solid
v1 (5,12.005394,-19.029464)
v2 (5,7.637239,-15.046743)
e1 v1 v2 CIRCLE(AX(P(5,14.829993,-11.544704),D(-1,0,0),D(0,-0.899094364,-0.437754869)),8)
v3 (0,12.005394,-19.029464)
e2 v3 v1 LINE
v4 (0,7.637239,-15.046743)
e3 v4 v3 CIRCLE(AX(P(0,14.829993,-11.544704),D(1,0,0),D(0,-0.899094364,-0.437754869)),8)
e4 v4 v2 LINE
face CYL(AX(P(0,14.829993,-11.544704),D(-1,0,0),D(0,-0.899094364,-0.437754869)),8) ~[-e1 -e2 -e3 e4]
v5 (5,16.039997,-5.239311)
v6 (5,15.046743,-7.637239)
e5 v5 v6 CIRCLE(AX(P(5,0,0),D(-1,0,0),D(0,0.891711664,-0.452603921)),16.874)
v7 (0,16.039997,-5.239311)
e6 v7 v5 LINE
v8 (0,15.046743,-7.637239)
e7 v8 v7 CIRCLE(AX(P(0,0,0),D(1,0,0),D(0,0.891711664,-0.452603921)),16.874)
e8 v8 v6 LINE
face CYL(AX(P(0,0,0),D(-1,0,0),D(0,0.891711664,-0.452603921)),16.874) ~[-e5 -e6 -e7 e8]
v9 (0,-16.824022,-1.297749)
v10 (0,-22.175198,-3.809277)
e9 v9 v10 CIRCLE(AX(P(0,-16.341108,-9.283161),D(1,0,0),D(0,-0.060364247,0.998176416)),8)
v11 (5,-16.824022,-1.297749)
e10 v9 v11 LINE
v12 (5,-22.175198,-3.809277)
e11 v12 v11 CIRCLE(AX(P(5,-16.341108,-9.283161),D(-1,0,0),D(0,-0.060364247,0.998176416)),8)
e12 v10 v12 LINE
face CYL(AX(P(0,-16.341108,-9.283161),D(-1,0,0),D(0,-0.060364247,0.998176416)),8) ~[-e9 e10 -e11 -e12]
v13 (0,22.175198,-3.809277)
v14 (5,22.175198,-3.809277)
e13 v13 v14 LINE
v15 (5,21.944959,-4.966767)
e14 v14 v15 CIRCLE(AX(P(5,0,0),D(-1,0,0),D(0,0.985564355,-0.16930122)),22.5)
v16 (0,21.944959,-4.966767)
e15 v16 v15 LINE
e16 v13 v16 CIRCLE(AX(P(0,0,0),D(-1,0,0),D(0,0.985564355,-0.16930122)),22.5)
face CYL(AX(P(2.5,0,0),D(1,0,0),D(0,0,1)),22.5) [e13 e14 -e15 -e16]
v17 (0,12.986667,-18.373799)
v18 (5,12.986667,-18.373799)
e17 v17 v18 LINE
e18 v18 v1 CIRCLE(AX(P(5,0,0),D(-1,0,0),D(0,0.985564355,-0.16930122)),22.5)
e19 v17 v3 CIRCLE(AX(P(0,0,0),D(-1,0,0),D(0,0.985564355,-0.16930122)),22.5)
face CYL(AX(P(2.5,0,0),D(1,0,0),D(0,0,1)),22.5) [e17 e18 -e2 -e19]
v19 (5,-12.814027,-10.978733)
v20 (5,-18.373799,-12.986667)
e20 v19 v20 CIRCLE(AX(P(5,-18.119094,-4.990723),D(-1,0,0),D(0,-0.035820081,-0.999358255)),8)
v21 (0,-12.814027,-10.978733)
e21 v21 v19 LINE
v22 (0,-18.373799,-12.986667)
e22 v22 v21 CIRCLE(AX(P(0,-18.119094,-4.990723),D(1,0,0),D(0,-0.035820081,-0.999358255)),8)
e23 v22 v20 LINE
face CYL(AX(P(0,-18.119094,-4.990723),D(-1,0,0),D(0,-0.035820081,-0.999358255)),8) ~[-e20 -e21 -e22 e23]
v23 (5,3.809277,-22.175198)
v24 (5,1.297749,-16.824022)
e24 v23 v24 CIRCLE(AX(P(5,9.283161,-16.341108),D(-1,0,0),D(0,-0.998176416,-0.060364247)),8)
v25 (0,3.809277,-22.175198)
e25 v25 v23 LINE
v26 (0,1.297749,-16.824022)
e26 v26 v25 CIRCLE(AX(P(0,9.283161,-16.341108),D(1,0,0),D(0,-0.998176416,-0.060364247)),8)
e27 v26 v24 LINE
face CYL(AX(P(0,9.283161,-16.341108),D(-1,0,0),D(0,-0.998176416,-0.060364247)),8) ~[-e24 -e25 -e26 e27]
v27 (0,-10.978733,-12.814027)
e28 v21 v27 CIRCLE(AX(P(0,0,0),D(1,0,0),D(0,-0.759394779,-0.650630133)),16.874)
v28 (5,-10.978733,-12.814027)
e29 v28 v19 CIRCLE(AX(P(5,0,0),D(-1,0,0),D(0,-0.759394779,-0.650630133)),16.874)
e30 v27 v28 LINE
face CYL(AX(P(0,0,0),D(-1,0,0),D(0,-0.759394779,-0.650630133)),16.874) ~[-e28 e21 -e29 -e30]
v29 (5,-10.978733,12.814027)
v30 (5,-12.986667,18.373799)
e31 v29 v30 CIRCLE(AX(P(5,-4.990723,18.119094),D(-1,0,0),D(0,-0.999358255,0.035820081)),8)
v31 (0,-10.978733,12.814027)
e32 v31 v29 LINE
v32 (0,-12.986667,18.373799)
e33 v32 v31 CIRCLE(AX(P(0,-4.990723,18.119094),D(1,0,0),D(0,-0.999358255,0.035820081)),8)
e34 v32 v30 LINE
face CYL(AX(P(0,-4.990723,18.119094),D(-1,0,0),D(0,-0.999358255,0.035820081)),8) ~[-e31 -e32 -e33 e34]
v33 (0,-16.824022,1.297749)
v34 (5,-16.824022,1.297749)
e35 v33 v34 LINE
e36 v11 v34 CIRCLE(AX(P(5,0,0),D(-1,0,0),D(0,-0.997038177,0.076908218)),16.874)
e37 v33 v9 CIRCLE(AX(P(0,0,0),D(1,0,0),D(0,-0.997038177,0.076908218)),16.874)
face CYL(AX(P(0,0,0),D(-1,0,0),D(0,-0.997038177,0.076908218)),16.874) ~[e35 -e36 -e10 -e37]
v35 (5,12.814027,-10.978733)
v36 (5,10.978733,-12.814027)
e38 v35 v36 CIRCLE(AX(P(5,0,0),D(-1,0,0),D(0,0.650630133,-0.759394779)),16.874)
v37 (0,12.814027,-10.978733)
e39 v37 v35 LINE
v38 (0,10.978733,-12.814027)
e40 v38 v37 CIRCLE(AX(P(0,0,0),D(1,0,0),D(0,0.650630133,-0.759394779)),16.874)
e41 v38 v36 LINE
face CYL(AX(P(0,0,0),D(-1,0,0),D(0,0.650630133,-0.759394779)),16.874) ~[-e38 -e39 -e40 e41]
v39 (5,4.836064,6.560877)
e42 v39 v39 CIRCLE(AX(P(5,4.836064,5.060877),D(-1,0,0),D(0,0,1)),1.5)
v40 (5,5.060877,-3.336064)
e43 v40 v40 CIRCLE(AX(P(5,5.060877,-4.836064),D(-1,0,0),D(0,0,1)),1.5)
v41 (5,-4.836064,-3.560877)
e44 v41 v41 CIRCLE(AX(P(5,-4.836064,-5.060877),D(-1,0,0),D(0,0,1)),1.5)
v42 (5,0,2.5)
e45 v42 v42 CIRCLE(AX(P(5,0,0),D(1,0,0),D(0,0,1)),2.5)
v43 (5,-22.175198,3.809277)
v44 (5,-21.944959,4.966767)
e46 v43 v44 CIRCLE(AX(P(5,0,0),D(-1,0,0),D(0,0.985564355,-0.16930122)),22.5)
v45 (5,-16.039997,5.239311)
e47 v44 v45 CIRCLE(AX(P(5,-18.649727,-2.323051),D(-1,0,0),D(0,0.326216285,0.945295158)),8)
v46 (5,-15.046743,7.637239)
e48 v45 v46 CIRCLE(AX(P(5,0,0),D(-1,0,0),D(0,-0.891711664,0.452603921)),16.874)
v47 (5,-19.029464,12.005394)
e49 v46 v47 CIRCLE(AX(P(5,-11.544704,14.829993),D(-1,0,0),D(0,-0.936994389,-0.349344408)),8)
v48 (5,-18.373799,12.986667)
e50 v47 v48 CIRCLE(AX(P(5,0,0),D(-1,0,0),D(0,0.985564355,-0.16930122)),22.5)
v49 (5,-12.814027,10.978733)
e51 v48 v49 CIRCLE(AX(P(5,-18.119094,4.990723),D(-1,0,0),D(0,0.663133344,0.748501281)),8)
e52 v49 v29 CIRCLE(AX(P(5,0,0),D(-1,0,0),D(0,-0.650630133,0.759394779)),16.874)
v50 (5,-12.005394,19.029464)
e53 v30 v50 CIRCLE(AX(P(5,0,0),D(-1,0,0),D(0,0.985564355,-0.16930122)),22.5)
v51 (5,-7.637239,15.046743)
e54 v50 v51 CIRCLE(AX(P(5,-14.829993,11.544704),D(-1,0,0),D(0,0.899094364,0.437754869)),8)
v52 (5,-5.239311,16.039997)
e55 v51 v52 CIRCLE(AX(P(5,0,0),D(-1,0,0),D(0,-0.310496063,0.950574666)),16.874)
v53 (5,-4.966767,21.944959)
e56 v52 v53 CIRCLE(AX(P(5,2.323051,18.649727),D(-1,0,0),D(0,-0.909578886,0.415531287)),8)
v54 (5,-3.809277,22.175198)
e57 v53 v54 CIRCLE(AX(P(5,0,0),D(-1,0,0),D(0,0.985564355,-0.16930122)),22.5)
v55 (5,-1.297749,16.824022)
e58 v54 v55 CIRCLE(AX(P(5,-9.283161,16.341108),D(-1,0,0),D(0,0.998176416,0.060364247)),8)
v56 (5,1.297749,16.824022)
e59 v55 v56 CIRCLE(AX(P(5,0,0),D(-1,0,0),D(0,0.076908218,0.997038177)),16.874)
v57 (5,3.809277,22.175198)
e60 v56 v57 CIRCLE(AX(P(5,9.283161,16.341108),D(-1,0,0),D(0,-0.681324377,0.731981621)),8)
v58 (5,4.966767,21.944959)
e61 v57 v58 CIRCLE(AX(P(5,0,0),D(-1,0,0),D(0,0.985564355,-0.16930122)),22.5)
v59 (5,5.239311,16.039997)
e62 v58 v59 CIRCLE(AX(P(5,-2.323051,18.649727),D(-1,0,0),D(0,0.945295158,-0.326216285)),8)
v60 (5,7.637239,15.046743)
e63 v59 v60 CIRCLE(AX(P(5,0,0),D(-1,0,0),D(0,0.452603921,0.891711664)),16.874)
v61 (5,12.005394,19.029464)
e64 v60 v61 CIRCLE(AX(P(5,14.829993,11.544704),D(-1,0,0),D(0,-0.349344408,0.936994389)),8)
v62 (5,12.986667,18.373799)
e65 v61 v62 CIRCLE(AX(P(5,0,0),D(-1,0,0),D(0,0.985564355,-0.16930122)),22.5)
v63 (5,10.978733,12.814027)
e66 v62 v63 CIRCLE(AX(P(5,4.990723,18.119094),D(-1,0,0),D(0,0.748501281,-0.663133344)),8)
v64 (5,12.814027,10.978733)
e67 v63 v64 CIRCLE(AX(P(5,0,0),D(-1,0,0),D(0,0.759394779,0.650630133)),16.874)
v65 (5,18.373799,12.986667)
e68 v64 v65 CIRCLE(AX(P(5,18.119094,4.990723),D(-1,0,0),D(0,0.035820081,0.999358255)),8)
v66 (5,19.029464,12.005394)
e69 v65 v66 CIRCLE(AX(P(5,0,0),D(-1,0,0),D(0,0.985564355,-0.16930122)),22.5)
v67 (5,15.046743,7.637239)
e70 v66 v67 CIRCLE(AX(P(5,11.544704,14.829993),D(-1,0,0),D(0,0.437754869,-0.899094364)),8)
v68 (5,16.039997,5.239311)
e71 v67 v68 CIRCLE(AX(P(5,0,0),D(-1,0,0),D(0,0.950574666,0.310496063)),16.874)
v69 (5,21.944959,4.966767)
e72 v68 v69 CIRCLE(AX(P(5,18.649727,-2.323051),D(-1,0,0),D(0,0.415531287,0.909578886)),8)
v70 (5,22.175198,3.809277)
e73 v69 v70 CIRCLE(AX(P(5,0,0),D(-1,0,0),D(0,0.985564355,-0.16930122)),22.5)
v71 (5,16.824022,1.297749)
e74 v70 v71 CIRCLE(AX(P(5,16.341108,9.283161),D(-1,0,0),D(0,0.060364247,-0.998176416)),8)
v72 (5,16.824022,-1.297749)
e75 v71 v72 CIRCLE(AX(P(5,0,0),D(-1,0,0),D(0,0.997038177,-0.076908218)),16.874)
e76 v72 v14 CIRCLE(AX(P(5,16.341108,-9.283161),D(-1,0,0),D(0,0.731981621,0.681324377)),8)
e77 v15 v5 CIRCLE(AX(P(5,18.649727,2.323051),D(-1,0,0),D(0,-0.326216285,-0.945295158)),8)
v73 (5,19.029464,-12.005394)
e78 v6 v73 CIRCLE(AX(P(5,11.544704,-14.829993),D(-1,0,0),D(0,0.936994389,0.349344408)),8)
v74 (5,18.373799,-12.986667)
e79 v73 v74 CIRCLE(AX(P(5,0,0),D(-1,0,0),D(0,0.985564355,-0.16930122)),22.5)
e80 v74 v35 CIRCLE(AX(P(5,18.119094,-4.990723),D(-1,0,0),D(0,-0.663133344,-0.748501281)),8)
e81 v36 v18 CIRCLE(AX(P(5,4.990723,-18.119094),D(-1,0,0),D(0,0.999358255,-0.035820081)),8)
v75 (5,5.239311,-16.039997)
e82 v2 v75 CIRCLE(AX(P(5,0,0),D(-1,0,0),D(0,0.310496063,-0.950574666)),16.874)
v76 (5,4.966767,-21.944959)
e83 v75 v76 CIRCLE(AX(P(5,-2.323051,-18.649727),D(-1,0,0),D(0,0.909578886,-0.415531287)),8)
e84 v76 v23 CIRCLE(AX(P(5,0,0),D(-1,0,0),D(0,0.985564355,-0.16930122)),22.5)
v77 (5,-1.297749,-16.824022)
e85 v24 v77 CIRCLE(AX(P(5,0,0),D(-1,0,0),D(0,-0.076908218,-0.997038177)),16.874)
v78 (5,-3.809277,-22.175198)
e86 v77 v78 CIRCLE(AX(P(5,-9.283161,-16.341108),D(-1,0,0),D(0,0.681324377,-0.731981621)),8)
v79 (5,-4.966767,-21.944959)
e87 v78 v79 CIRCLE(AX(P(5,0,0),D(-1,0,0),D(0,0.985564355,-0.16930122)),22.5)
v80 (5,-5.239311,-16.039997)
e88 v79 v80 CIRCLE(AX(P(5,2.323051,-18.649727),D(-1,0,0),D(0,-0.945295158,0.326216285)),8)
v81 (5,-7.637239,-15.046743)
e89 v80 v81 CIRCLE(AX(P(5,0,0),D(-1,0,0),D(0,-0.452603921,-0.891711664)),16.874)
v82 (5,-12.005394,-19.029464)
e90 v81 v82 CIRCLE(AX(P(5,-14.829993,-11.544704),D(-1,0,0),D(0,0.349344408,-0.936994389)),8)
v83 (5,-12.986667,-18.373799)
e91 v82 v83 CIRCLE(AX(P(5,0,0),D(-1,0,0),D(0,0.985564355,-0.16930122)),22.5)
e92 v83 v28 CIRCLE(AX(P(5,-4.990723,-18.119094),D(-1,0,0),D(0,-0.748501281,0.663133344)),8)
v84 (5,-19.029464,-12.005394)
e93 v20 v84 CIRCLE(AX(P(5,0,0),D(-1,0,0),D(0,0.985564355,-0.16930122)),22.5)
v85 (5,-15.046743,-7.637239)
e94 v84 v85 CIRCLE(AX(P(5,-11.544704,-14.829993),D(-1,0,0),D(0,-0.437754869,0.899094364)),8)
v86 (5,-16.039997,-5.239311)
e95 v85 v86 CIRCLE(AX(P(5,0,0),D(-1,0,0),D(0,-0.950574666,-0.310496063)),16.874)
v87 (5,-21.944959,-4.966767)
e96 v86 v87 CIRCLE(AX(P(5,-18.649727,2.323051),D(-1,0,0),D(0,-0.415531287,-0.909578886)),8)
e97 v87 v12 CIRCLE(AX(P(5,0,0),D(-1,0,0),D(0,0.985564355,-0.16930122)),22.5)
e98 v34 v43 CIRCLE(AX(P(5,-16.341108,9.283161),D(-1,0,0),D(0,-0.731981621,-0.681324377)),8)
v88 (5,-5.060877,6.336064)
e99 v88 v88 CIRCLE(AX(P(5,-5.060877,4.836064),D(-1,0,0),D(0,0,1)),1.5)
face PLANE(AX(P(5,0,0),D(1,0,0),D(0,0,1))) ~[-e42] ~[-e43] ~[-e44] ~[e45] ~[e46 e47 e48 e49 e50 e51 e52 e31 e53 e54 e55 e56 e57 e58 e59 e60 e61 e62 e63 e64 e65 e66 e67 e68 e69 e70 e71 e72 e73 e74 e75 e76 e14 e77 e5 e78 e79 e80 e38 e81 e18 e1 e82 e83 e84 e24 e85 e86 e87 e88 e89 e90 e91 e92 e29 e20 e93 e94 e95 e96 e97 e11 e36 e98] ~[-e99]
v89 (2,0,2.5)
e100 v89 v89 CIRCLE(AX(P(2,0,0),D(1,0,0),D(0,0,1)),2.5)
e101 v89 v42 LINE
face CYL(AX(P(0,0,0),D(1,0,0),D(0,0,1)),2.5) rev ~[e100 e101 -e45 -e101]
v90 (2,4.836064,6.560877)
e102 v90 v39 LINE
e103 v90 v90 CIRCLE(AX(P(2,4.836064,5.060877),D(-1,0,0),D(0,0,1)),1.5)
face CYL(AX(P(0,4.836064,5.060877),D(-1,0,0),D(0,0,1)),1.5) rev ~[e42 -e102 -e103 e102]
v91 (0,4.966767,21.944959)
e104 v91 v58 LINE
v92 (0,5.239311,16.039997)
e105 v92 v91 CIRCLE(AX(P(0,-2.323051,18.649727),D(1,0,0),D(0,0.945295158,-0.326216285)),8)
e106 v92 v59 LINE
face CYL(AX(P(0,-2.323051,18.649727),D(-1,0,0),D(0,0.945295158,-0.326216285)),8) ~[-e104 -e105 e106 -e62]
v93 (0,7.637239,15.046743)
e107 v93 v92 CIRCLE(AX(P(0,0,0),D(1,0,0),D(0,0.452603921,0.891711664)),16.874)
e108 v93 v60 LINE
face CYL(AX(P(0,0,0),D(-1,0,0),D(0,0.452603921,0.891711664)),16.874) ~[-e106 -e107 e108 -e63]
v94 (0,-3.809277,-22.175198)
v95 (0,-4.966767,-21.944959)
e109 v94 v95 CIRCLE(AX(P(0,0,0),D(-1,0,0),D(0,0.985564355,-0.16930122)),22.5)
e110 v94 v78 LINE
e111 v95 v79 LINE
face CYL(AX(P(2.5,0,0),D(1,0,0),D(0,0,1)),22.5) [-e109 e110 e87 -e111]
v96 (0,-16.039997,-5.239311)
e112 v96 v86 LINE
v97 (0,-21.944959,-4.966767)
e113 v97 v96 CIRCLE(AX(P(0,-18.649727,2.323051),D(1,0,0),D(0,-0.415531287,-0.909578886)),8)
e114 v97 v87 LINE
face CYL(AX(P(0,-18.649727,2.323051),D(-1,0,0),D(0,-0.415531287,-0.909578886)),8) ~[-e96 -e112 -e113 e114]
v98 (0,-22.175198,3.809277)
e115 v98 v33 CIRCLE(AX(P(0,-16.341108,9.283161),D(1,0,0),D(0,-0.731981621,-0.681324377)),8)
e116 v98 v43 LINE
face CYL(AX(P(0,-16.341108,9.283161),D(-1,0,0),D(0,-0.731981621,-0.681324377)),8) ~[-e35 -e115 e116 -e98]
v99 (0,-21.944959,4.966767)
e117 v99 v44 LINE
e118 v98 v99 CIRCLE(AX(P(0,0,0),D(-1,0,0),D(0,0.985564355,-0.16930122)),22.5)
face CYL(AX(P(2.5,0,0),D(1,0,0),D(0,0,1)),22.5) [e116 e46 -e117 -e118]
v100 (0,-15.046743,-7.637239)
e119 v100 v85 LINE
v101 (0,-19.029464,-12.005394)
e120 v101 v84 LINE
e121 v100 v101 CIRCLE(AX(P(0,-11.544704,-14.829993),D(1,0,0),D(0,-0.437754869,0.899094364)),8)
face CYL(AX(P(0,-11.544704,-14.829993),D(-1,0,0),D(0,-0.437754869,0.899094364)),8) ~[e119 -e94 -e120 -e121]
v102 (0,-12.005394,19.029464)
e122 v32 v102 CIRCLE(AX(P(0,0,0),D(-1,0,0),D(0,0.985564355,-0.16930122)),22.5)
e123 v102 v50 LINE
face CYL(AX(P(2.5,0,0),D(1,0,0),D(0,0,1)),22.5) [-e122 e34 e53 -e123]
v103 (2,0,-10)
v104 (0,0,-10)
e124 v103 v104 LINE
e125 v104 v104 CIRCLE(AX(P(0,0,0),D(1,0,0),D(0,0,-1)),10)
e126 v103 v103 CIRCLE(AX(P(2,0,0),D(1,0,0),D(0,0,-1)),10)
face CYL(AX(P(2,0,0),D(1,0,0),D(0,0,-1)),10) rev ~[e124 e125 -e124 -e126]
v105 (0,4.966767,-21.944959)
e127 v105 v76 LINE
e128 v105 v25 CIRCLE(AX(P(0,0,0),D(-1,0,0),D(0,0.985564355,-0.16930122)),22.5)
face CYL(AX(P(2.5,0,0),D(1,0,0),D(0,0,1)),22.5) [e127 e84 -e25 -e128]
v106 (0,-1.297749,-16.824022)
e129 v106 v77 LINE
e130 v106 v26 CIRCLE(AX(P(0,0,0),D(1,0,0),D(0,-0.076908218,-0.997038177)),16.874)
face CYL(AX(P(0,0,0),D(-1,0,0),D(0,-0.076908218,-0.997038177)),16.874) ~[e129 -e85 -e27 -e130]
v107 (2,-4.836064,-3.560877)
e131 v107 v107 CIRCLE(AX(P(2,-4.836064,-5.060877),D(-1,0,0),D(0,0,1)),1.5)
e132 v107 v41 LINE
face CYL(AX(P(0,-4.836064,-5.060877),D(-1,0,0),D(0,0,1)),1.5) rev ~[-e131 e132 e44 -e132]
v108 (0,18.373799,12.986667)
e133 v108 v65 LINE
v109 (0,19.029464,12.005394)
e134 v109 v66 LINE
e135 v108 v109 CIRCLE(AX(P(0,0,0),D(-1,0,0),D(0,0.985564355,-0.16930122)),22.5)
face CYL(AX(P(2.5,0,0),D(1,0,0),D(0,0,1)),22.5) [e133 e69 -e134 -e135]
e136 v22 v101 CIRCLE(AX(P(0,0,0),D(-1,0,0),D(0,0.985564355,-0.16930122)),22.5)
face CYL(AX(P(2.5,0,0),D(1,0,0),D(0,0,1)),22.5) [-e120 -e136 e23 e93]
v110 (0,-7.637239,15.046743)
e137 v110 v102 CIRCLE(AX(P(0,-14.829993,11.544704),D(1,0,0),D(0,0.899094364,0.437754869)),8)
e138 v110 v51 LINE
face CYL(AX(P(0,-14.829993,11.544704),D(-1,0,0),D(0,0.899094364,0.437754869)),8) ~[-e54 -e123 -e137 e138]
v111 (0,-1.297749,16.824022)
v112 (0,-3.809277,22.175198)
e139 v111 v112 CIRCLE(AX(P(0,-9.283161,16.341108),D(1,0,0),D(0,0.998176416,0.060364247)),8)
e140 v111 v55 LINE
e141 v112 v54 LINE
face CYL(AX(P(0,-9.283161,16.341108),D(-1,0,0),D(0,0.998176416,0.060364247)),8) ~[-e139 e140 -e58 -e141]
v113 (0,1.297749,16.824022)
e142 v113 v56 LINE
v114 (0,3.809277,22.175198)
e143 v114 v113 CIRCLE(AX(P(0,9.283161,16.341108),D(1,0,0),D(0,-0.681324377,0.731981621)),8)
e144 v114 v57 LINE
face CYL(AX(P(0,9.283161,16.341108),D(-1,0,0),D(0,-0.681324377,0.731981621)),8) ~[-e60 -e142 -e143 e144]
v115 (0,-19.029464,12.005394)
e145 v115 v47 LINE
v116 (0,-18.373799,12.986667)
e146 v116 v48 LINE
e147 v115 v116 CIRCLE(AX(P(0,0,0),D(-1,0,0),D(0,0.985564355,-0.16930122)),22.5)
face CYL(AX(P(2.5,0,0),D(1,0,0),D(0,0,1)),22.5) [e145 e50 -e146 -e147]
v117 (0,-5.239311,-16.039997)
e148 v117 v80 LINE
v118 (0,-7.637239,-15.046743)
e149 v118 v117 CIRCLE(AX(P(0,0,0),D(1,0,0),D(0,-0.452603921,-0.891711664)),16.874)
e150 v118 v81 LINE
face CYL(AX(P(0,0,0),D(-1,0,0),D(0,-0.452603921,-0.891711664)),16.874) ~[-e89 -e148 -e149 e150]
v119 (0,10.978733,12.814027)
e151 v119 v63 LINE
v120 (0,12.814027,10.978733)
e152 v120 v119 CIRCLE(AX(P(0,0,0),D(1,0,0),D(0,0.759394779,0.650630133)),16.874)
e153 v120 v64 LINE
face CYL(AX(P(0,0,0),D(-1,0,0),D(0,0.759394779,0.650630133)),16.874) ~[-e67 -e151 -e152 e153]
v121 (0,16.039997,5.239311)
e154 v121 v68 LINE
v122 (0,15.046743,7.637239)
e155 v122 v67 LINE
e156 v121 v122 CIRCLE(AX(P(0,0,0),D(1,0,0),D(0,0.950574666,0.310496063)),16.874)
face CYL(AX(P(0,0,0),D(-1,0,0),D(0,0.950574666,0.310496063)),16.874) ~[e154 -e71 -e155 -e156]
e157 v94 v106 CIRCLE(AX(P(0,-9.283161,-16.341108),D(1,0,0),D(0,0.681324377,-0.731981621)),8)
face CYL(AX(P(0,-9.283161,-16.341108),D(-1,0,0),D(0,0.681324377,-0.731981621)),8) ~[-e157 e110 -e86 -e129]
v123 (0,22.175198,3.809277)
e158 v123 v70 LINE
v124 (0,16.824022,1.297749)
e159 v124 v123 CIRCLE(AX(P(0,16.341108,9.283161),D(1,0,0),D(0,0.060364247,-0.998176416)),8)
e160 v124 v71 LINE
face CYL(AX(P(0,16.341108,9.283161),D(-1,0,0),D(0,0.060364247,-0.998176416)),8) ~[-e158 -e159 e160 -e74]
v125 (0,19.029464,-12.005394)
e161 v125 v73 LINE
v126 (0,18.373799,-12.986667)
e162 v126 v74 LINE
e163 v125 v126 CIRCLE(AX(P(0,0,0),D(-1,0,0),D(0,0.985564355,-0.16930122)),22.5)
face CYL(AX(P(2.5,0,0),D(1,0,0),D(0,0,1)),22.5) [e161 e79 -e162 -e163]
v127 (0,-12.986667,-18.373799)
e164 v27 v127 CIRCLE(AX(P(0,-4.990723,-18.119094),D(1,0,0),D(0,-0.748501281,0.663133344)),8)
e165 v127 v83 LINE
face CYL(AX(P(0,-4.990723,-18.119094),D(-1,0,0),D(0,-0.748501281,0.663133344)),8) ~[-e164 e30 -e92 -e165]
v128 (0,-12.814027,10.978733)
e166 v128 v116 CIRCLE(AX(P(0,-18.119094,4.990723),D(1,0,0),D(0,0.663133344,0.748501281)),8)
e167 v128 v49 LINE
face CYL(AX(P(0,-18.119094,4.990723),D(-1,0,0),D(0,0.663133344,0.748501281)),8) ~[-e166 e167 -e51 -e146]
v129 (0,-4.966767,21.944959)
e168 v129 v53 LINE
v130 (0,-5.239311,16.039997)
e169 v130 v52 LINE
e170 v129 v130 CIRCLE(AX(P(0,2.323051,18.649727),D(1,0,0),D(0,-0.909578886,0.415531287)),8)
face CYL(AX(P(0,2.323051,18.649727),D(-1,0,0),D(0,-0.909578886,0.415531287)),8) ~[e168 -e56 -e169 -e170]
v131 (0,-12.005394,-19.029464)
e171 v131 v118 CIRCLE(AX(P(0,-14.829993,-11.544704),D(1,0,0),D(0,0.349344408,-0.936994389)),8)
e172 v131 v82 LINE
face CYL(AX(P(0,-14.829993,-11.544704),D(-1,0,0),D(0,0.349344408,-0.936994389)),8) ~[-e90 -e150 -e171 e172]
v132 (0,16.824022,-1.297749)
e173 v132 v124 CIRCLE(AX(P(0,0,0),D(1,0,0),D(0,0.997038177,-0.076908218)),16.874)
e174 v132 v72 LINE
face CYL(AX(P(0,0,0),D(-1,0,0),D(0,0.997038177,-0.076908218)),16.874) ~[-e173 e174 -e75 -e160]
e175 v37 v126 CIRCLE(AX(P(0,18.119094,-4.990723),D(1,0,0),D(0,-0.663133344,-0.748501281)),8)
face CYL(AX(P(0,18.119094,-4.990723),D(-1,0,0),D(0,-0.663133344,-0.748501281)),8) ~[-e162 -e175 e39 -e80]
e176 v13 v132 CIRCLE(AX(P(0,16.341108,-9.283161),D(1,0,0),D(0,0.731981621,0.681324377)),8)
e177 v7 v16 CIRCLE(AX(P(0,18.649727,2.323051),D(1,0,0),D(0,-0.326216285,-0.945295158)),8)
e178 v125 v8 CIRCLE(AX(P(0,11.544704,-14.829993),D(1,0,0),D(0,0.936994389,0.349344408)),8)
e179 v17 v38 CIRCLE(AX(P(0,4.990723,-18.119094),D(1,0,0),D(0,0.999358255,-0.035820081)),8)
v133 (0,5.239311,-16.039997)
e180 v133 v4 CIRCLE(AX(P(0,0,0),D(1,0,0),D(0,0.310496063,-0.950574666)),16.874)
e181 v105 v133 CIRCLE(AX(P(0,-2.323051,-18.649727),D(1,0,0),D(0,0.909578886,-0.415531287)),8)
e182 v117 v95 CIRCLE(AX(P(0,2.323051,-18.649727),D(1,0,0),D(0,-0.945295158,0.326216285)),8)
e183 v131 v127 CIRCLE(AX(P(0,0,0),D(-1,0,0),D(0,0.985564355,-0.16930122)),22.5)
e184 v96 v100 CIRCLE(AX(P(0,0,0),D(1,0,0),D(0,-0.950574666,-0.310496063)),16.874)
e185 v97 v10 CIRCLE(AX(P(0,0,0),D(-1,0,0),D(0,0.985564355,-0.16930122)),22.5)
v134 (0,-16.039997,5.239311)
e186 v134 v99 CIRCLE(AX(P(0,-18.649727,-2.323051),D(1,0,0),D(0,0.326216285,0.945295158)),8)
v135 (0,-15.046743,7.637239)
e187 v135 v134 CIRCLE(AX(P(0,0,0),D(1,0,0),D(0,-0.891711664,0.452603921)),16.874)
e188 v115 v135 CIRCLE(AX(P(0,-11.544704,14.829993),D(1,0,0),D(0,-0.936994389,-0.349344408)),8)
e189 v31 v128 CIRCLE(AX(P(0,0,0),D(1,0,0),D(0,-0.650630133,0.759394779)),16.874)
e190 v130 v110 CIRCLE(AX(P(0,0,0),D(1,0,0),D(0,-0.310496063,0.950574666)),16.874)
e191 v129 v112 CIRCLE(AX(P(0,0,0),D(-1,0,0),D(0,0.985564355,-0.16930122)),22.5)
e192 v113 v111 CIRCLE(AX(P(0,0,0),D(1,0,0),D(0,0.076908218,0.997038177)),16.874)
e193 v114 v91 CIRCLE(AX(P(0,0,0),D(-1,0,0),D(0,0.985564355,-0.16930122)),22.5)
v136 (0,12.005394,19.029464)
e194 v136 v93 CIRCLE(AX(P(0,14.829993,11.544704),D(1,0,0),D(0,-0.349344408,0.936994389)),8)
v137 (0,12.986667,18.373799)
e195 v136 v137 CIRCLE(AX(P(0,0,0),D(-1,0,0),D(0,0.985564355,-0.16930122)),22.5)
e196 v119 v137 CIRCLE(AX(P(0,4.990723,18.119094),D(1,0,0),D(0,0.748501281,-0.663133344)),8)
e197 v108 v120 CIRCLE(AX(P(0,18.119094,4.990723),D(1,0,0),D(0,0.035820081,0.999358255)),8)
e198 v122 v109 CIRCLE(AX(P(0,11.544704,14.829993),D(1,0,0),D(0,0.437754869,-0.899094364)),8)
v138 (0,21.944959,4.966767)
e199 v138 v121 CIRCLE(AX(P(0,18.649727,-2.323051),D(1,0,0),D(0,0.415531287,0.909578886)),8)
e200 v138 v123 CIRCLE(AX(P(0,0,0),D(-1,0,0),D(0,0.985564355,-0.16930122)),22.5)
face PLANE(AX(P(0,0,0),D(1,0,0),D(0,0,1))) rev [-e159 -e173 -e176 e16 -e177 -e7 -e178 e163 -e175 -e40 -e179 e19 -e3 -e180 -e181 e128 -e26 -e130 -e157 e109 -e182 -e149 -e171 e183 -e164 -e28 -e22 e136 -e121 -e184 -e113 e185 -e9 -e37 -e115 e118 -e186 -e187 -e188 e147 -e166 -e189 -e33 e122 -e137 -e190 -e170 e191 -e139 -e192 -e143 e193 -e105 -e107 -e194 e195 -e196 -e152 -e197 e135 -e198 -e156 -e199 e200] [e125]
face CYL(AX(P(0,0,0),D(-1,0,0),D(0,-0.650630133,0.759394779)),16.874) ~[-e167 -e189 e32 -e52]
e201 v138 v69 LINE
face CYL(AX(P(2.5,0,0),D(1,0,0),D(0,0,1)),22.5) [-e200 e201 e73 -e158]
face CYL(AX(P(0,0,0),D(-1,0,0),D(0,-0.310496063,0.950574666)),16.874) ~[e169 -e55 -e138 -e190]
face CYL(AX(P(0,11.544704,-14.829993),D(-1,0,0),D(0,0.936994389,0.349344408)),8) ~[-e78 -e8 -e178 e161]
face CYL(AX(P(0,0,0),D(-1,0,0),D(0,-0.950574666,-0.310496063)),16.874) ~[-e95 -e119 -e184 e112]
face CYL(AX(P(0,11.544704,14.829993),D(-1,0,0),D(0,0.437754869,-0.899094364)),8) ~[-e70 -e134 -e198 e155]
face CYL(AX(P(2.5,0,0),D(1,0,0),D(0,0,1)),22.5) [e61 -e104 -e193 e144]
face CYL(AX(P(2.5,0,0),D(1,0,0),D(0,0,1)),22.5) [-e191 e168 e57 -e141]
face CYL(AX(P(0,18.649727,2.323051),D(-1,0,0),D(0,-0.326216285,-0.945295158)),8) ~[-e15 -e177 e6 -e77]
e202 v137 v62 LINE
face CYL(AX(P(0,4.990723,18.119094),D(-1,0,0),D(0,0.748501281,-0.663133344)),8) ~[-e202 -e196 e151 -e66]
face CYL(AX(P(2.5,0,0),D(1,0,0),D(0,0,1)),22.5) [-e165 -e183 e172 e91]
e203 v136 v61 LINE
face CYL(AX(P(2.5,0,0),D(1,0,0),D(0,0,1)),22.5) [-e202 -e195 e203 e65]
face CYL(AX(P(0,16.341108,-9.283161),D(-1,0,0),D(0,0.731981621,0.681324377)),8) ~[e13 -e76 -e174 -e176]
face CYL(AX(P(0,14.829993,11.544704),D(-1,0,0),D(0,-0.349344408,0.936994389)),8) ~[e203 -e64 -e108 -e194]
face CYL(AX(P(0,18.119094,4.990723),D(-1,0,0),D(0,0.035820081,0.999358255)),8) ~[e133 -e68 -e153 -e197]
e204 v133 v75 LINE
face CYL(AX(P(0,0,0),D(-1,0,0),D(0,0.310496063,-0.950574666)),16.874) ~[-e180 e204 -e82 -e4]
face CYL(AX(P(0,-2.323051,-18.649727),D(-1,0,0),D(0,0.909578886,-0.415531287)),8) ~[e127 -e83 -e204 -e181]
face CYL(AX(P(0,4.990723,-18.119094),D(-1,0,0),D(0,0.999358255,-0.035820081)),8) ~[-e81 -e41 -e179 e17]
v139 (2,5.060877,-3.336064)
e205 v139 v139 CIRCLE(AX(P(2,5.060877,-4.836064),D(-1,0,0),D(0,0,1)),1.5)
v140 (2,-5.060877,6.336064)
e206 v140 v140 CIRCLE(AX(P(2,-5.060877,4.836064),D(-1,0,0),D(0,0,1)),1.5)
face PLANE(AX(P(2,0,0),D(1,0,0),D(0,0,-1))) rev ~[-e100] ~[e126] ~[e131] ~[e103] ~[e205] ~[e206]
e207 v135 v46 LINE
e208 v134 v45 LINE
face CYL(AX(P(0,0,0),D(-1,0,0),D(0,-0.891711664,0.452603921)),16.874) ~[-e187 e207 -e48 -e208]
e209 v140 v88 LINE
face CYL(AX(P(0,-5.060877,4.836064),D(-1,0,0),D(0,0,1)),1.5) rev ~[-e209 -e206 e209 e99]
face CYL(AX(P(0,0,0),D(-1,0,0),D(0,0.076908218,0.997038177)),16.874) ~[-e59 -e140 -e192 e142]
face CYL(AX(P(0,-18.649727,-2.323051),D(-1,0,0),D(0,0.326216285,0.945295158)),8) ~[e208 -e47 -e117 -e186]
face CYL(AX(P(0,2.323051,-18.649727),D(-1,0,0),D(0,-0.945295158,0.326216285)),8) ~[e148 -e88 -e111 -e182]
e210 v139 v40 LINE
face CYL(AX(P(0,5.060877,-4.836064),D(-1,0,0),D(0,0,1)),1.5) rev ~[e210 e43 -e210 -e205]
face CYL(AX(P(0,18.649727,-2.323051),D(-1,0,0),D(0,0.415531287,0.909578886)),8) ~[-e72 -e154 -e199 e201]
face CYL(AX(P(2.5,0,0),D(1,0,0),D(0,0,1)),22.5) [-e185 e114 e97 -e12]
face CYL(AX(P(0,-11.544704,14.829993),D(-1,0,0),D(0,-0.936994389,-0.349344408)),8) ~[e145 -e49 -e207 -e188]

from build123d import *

# Parameters (mm, degrees)
BASPROSKE_W             = 5
BASPROSKE_H             = 22.5
TOOTHCUT_DEPTH          = 33.210246817
TEETHCUTS_COUNT         = 16
TEETHCUTS_ANGLE         = 337.5
BORSKE_R                = 2.5
BORE_DEPTH              = 50.0000508
ENL_V_START             = -3
ESQUISSE3_R             = 10
ENL_V_MAT_EXTRU_3_DEPTH = 29.756555396
ESQUISSE8_R             = 1.5
ENL_V_MAT_EXTRU_4_DEPTH = 32.756555396


with BuildPart() as part:
    # BasProSke → Base-Revolve (revolve)
    with BuildSketch(Plane(origin=(0, 0, 0), x_dir=(1, 0, 0), z_dir=(0, 1, 0)), mode=Mode.PRIVATE) as base_revolve_sk:
        with Locations((2.5, 11.25)):
            Rectangle(BASPROSKE_W, BASPROSKE_H)
    revolve(base_revolve_sk.sketch.rotate(Axis((-10, 0, 0), (1, 0, 0)), 180), axis=Axis((-10, 0, 0), (1, 0, 0)))

    # TooCutSke → ToothCut (cut, through all)
    with BuildSketch(Plane(origin=(0, 0, 0), x_dir=(0, 0, -1), z_dir=(1, 0, 0))):
        with BuildLine():
            ThreePointArc((1.297749273, 16.824022195), (0, 16.874), (-1.297749273, 16.824022195))
            ThreePointArc((-1.297749273, 16.824022195), (-2.047921493, 19.754510488), (-3.832565589, 22.196961192))
            ThreePointArc((-3.832565589, 22.196961192), (0, 22.5254), (3.832565589, 22.196961192))
            ThreePointArc((3.832565589, 22.196961192), (2.047921493, 19.754510488), (1.297749273, 16.824022195))
        make_face()
    toothcut = extrude(amount=TOOTHCUT_DEPTH, mode=Mode.SUBTRACT)

    # TeethCuts: ToothCut ×16 about axis
    teethcuts_axis = Axis((-10, 0, 0), (1, 0, 0))
    for i in range(1, TEETHCUTS_COUNT):
        add(toothcut.rotate(teethcuts_axis, i * TEETHCUTS_ANGLE / (TEETHCUTS_COUNT - 1)), mode=Mode.SUBTRACT)

    # BorSke → Bore (cut, symmetric)
    with BuildSketch(Plane(origin=(0, 0, 0), x_dir=(0, 0, -1), z_dir=(1, 0, 0))):
        with Locations(Location((0, 0, 0), (0, 0, 180))):
            Circle(BORSKE_R)
    extrude(amount=BORE_DEPTH, both=True, mode=Mode.SUBTRACT)

    # Esquisse3 → Enlèv. mat.-Extru.3 (cut, through all)
    with BuildSketch(Plane(origin=(5, 0, 0), x_dir=(0, 0, -1), z_dir=(1, 0, 0)).offset(ENL_V_START)):
        Circle(ESQUISSE3_R)
    extrude(amount=-ENL_V_MAT_EXTRU_3_DEPTH, mode=Mode.SUBTRACT)

    # Esquisse8 → Enlèv. mat.-Extru.4 (cut, through all)
    with BuildSketch(Plane.ZY):
        with Locations((5.060877471, 4.836064435)):
            Circle(ESQUISSE8_R)
        with Locations((-4.836064435, 5.060877471)):
            Circle(ESQUISSE8_R)
        with Locations((4.836064435, -5.060877471)):
            Circle(ESQUISSE8_R)
        with Locations((-5.060877471, -4.836064435)):
            Circle(ESQUISSE8_R)
    extrude(amount=-ENL_V_MAT_EXTRU_4_DEPTH, mode=Mode.SUBTRACT)


solid = part.part
